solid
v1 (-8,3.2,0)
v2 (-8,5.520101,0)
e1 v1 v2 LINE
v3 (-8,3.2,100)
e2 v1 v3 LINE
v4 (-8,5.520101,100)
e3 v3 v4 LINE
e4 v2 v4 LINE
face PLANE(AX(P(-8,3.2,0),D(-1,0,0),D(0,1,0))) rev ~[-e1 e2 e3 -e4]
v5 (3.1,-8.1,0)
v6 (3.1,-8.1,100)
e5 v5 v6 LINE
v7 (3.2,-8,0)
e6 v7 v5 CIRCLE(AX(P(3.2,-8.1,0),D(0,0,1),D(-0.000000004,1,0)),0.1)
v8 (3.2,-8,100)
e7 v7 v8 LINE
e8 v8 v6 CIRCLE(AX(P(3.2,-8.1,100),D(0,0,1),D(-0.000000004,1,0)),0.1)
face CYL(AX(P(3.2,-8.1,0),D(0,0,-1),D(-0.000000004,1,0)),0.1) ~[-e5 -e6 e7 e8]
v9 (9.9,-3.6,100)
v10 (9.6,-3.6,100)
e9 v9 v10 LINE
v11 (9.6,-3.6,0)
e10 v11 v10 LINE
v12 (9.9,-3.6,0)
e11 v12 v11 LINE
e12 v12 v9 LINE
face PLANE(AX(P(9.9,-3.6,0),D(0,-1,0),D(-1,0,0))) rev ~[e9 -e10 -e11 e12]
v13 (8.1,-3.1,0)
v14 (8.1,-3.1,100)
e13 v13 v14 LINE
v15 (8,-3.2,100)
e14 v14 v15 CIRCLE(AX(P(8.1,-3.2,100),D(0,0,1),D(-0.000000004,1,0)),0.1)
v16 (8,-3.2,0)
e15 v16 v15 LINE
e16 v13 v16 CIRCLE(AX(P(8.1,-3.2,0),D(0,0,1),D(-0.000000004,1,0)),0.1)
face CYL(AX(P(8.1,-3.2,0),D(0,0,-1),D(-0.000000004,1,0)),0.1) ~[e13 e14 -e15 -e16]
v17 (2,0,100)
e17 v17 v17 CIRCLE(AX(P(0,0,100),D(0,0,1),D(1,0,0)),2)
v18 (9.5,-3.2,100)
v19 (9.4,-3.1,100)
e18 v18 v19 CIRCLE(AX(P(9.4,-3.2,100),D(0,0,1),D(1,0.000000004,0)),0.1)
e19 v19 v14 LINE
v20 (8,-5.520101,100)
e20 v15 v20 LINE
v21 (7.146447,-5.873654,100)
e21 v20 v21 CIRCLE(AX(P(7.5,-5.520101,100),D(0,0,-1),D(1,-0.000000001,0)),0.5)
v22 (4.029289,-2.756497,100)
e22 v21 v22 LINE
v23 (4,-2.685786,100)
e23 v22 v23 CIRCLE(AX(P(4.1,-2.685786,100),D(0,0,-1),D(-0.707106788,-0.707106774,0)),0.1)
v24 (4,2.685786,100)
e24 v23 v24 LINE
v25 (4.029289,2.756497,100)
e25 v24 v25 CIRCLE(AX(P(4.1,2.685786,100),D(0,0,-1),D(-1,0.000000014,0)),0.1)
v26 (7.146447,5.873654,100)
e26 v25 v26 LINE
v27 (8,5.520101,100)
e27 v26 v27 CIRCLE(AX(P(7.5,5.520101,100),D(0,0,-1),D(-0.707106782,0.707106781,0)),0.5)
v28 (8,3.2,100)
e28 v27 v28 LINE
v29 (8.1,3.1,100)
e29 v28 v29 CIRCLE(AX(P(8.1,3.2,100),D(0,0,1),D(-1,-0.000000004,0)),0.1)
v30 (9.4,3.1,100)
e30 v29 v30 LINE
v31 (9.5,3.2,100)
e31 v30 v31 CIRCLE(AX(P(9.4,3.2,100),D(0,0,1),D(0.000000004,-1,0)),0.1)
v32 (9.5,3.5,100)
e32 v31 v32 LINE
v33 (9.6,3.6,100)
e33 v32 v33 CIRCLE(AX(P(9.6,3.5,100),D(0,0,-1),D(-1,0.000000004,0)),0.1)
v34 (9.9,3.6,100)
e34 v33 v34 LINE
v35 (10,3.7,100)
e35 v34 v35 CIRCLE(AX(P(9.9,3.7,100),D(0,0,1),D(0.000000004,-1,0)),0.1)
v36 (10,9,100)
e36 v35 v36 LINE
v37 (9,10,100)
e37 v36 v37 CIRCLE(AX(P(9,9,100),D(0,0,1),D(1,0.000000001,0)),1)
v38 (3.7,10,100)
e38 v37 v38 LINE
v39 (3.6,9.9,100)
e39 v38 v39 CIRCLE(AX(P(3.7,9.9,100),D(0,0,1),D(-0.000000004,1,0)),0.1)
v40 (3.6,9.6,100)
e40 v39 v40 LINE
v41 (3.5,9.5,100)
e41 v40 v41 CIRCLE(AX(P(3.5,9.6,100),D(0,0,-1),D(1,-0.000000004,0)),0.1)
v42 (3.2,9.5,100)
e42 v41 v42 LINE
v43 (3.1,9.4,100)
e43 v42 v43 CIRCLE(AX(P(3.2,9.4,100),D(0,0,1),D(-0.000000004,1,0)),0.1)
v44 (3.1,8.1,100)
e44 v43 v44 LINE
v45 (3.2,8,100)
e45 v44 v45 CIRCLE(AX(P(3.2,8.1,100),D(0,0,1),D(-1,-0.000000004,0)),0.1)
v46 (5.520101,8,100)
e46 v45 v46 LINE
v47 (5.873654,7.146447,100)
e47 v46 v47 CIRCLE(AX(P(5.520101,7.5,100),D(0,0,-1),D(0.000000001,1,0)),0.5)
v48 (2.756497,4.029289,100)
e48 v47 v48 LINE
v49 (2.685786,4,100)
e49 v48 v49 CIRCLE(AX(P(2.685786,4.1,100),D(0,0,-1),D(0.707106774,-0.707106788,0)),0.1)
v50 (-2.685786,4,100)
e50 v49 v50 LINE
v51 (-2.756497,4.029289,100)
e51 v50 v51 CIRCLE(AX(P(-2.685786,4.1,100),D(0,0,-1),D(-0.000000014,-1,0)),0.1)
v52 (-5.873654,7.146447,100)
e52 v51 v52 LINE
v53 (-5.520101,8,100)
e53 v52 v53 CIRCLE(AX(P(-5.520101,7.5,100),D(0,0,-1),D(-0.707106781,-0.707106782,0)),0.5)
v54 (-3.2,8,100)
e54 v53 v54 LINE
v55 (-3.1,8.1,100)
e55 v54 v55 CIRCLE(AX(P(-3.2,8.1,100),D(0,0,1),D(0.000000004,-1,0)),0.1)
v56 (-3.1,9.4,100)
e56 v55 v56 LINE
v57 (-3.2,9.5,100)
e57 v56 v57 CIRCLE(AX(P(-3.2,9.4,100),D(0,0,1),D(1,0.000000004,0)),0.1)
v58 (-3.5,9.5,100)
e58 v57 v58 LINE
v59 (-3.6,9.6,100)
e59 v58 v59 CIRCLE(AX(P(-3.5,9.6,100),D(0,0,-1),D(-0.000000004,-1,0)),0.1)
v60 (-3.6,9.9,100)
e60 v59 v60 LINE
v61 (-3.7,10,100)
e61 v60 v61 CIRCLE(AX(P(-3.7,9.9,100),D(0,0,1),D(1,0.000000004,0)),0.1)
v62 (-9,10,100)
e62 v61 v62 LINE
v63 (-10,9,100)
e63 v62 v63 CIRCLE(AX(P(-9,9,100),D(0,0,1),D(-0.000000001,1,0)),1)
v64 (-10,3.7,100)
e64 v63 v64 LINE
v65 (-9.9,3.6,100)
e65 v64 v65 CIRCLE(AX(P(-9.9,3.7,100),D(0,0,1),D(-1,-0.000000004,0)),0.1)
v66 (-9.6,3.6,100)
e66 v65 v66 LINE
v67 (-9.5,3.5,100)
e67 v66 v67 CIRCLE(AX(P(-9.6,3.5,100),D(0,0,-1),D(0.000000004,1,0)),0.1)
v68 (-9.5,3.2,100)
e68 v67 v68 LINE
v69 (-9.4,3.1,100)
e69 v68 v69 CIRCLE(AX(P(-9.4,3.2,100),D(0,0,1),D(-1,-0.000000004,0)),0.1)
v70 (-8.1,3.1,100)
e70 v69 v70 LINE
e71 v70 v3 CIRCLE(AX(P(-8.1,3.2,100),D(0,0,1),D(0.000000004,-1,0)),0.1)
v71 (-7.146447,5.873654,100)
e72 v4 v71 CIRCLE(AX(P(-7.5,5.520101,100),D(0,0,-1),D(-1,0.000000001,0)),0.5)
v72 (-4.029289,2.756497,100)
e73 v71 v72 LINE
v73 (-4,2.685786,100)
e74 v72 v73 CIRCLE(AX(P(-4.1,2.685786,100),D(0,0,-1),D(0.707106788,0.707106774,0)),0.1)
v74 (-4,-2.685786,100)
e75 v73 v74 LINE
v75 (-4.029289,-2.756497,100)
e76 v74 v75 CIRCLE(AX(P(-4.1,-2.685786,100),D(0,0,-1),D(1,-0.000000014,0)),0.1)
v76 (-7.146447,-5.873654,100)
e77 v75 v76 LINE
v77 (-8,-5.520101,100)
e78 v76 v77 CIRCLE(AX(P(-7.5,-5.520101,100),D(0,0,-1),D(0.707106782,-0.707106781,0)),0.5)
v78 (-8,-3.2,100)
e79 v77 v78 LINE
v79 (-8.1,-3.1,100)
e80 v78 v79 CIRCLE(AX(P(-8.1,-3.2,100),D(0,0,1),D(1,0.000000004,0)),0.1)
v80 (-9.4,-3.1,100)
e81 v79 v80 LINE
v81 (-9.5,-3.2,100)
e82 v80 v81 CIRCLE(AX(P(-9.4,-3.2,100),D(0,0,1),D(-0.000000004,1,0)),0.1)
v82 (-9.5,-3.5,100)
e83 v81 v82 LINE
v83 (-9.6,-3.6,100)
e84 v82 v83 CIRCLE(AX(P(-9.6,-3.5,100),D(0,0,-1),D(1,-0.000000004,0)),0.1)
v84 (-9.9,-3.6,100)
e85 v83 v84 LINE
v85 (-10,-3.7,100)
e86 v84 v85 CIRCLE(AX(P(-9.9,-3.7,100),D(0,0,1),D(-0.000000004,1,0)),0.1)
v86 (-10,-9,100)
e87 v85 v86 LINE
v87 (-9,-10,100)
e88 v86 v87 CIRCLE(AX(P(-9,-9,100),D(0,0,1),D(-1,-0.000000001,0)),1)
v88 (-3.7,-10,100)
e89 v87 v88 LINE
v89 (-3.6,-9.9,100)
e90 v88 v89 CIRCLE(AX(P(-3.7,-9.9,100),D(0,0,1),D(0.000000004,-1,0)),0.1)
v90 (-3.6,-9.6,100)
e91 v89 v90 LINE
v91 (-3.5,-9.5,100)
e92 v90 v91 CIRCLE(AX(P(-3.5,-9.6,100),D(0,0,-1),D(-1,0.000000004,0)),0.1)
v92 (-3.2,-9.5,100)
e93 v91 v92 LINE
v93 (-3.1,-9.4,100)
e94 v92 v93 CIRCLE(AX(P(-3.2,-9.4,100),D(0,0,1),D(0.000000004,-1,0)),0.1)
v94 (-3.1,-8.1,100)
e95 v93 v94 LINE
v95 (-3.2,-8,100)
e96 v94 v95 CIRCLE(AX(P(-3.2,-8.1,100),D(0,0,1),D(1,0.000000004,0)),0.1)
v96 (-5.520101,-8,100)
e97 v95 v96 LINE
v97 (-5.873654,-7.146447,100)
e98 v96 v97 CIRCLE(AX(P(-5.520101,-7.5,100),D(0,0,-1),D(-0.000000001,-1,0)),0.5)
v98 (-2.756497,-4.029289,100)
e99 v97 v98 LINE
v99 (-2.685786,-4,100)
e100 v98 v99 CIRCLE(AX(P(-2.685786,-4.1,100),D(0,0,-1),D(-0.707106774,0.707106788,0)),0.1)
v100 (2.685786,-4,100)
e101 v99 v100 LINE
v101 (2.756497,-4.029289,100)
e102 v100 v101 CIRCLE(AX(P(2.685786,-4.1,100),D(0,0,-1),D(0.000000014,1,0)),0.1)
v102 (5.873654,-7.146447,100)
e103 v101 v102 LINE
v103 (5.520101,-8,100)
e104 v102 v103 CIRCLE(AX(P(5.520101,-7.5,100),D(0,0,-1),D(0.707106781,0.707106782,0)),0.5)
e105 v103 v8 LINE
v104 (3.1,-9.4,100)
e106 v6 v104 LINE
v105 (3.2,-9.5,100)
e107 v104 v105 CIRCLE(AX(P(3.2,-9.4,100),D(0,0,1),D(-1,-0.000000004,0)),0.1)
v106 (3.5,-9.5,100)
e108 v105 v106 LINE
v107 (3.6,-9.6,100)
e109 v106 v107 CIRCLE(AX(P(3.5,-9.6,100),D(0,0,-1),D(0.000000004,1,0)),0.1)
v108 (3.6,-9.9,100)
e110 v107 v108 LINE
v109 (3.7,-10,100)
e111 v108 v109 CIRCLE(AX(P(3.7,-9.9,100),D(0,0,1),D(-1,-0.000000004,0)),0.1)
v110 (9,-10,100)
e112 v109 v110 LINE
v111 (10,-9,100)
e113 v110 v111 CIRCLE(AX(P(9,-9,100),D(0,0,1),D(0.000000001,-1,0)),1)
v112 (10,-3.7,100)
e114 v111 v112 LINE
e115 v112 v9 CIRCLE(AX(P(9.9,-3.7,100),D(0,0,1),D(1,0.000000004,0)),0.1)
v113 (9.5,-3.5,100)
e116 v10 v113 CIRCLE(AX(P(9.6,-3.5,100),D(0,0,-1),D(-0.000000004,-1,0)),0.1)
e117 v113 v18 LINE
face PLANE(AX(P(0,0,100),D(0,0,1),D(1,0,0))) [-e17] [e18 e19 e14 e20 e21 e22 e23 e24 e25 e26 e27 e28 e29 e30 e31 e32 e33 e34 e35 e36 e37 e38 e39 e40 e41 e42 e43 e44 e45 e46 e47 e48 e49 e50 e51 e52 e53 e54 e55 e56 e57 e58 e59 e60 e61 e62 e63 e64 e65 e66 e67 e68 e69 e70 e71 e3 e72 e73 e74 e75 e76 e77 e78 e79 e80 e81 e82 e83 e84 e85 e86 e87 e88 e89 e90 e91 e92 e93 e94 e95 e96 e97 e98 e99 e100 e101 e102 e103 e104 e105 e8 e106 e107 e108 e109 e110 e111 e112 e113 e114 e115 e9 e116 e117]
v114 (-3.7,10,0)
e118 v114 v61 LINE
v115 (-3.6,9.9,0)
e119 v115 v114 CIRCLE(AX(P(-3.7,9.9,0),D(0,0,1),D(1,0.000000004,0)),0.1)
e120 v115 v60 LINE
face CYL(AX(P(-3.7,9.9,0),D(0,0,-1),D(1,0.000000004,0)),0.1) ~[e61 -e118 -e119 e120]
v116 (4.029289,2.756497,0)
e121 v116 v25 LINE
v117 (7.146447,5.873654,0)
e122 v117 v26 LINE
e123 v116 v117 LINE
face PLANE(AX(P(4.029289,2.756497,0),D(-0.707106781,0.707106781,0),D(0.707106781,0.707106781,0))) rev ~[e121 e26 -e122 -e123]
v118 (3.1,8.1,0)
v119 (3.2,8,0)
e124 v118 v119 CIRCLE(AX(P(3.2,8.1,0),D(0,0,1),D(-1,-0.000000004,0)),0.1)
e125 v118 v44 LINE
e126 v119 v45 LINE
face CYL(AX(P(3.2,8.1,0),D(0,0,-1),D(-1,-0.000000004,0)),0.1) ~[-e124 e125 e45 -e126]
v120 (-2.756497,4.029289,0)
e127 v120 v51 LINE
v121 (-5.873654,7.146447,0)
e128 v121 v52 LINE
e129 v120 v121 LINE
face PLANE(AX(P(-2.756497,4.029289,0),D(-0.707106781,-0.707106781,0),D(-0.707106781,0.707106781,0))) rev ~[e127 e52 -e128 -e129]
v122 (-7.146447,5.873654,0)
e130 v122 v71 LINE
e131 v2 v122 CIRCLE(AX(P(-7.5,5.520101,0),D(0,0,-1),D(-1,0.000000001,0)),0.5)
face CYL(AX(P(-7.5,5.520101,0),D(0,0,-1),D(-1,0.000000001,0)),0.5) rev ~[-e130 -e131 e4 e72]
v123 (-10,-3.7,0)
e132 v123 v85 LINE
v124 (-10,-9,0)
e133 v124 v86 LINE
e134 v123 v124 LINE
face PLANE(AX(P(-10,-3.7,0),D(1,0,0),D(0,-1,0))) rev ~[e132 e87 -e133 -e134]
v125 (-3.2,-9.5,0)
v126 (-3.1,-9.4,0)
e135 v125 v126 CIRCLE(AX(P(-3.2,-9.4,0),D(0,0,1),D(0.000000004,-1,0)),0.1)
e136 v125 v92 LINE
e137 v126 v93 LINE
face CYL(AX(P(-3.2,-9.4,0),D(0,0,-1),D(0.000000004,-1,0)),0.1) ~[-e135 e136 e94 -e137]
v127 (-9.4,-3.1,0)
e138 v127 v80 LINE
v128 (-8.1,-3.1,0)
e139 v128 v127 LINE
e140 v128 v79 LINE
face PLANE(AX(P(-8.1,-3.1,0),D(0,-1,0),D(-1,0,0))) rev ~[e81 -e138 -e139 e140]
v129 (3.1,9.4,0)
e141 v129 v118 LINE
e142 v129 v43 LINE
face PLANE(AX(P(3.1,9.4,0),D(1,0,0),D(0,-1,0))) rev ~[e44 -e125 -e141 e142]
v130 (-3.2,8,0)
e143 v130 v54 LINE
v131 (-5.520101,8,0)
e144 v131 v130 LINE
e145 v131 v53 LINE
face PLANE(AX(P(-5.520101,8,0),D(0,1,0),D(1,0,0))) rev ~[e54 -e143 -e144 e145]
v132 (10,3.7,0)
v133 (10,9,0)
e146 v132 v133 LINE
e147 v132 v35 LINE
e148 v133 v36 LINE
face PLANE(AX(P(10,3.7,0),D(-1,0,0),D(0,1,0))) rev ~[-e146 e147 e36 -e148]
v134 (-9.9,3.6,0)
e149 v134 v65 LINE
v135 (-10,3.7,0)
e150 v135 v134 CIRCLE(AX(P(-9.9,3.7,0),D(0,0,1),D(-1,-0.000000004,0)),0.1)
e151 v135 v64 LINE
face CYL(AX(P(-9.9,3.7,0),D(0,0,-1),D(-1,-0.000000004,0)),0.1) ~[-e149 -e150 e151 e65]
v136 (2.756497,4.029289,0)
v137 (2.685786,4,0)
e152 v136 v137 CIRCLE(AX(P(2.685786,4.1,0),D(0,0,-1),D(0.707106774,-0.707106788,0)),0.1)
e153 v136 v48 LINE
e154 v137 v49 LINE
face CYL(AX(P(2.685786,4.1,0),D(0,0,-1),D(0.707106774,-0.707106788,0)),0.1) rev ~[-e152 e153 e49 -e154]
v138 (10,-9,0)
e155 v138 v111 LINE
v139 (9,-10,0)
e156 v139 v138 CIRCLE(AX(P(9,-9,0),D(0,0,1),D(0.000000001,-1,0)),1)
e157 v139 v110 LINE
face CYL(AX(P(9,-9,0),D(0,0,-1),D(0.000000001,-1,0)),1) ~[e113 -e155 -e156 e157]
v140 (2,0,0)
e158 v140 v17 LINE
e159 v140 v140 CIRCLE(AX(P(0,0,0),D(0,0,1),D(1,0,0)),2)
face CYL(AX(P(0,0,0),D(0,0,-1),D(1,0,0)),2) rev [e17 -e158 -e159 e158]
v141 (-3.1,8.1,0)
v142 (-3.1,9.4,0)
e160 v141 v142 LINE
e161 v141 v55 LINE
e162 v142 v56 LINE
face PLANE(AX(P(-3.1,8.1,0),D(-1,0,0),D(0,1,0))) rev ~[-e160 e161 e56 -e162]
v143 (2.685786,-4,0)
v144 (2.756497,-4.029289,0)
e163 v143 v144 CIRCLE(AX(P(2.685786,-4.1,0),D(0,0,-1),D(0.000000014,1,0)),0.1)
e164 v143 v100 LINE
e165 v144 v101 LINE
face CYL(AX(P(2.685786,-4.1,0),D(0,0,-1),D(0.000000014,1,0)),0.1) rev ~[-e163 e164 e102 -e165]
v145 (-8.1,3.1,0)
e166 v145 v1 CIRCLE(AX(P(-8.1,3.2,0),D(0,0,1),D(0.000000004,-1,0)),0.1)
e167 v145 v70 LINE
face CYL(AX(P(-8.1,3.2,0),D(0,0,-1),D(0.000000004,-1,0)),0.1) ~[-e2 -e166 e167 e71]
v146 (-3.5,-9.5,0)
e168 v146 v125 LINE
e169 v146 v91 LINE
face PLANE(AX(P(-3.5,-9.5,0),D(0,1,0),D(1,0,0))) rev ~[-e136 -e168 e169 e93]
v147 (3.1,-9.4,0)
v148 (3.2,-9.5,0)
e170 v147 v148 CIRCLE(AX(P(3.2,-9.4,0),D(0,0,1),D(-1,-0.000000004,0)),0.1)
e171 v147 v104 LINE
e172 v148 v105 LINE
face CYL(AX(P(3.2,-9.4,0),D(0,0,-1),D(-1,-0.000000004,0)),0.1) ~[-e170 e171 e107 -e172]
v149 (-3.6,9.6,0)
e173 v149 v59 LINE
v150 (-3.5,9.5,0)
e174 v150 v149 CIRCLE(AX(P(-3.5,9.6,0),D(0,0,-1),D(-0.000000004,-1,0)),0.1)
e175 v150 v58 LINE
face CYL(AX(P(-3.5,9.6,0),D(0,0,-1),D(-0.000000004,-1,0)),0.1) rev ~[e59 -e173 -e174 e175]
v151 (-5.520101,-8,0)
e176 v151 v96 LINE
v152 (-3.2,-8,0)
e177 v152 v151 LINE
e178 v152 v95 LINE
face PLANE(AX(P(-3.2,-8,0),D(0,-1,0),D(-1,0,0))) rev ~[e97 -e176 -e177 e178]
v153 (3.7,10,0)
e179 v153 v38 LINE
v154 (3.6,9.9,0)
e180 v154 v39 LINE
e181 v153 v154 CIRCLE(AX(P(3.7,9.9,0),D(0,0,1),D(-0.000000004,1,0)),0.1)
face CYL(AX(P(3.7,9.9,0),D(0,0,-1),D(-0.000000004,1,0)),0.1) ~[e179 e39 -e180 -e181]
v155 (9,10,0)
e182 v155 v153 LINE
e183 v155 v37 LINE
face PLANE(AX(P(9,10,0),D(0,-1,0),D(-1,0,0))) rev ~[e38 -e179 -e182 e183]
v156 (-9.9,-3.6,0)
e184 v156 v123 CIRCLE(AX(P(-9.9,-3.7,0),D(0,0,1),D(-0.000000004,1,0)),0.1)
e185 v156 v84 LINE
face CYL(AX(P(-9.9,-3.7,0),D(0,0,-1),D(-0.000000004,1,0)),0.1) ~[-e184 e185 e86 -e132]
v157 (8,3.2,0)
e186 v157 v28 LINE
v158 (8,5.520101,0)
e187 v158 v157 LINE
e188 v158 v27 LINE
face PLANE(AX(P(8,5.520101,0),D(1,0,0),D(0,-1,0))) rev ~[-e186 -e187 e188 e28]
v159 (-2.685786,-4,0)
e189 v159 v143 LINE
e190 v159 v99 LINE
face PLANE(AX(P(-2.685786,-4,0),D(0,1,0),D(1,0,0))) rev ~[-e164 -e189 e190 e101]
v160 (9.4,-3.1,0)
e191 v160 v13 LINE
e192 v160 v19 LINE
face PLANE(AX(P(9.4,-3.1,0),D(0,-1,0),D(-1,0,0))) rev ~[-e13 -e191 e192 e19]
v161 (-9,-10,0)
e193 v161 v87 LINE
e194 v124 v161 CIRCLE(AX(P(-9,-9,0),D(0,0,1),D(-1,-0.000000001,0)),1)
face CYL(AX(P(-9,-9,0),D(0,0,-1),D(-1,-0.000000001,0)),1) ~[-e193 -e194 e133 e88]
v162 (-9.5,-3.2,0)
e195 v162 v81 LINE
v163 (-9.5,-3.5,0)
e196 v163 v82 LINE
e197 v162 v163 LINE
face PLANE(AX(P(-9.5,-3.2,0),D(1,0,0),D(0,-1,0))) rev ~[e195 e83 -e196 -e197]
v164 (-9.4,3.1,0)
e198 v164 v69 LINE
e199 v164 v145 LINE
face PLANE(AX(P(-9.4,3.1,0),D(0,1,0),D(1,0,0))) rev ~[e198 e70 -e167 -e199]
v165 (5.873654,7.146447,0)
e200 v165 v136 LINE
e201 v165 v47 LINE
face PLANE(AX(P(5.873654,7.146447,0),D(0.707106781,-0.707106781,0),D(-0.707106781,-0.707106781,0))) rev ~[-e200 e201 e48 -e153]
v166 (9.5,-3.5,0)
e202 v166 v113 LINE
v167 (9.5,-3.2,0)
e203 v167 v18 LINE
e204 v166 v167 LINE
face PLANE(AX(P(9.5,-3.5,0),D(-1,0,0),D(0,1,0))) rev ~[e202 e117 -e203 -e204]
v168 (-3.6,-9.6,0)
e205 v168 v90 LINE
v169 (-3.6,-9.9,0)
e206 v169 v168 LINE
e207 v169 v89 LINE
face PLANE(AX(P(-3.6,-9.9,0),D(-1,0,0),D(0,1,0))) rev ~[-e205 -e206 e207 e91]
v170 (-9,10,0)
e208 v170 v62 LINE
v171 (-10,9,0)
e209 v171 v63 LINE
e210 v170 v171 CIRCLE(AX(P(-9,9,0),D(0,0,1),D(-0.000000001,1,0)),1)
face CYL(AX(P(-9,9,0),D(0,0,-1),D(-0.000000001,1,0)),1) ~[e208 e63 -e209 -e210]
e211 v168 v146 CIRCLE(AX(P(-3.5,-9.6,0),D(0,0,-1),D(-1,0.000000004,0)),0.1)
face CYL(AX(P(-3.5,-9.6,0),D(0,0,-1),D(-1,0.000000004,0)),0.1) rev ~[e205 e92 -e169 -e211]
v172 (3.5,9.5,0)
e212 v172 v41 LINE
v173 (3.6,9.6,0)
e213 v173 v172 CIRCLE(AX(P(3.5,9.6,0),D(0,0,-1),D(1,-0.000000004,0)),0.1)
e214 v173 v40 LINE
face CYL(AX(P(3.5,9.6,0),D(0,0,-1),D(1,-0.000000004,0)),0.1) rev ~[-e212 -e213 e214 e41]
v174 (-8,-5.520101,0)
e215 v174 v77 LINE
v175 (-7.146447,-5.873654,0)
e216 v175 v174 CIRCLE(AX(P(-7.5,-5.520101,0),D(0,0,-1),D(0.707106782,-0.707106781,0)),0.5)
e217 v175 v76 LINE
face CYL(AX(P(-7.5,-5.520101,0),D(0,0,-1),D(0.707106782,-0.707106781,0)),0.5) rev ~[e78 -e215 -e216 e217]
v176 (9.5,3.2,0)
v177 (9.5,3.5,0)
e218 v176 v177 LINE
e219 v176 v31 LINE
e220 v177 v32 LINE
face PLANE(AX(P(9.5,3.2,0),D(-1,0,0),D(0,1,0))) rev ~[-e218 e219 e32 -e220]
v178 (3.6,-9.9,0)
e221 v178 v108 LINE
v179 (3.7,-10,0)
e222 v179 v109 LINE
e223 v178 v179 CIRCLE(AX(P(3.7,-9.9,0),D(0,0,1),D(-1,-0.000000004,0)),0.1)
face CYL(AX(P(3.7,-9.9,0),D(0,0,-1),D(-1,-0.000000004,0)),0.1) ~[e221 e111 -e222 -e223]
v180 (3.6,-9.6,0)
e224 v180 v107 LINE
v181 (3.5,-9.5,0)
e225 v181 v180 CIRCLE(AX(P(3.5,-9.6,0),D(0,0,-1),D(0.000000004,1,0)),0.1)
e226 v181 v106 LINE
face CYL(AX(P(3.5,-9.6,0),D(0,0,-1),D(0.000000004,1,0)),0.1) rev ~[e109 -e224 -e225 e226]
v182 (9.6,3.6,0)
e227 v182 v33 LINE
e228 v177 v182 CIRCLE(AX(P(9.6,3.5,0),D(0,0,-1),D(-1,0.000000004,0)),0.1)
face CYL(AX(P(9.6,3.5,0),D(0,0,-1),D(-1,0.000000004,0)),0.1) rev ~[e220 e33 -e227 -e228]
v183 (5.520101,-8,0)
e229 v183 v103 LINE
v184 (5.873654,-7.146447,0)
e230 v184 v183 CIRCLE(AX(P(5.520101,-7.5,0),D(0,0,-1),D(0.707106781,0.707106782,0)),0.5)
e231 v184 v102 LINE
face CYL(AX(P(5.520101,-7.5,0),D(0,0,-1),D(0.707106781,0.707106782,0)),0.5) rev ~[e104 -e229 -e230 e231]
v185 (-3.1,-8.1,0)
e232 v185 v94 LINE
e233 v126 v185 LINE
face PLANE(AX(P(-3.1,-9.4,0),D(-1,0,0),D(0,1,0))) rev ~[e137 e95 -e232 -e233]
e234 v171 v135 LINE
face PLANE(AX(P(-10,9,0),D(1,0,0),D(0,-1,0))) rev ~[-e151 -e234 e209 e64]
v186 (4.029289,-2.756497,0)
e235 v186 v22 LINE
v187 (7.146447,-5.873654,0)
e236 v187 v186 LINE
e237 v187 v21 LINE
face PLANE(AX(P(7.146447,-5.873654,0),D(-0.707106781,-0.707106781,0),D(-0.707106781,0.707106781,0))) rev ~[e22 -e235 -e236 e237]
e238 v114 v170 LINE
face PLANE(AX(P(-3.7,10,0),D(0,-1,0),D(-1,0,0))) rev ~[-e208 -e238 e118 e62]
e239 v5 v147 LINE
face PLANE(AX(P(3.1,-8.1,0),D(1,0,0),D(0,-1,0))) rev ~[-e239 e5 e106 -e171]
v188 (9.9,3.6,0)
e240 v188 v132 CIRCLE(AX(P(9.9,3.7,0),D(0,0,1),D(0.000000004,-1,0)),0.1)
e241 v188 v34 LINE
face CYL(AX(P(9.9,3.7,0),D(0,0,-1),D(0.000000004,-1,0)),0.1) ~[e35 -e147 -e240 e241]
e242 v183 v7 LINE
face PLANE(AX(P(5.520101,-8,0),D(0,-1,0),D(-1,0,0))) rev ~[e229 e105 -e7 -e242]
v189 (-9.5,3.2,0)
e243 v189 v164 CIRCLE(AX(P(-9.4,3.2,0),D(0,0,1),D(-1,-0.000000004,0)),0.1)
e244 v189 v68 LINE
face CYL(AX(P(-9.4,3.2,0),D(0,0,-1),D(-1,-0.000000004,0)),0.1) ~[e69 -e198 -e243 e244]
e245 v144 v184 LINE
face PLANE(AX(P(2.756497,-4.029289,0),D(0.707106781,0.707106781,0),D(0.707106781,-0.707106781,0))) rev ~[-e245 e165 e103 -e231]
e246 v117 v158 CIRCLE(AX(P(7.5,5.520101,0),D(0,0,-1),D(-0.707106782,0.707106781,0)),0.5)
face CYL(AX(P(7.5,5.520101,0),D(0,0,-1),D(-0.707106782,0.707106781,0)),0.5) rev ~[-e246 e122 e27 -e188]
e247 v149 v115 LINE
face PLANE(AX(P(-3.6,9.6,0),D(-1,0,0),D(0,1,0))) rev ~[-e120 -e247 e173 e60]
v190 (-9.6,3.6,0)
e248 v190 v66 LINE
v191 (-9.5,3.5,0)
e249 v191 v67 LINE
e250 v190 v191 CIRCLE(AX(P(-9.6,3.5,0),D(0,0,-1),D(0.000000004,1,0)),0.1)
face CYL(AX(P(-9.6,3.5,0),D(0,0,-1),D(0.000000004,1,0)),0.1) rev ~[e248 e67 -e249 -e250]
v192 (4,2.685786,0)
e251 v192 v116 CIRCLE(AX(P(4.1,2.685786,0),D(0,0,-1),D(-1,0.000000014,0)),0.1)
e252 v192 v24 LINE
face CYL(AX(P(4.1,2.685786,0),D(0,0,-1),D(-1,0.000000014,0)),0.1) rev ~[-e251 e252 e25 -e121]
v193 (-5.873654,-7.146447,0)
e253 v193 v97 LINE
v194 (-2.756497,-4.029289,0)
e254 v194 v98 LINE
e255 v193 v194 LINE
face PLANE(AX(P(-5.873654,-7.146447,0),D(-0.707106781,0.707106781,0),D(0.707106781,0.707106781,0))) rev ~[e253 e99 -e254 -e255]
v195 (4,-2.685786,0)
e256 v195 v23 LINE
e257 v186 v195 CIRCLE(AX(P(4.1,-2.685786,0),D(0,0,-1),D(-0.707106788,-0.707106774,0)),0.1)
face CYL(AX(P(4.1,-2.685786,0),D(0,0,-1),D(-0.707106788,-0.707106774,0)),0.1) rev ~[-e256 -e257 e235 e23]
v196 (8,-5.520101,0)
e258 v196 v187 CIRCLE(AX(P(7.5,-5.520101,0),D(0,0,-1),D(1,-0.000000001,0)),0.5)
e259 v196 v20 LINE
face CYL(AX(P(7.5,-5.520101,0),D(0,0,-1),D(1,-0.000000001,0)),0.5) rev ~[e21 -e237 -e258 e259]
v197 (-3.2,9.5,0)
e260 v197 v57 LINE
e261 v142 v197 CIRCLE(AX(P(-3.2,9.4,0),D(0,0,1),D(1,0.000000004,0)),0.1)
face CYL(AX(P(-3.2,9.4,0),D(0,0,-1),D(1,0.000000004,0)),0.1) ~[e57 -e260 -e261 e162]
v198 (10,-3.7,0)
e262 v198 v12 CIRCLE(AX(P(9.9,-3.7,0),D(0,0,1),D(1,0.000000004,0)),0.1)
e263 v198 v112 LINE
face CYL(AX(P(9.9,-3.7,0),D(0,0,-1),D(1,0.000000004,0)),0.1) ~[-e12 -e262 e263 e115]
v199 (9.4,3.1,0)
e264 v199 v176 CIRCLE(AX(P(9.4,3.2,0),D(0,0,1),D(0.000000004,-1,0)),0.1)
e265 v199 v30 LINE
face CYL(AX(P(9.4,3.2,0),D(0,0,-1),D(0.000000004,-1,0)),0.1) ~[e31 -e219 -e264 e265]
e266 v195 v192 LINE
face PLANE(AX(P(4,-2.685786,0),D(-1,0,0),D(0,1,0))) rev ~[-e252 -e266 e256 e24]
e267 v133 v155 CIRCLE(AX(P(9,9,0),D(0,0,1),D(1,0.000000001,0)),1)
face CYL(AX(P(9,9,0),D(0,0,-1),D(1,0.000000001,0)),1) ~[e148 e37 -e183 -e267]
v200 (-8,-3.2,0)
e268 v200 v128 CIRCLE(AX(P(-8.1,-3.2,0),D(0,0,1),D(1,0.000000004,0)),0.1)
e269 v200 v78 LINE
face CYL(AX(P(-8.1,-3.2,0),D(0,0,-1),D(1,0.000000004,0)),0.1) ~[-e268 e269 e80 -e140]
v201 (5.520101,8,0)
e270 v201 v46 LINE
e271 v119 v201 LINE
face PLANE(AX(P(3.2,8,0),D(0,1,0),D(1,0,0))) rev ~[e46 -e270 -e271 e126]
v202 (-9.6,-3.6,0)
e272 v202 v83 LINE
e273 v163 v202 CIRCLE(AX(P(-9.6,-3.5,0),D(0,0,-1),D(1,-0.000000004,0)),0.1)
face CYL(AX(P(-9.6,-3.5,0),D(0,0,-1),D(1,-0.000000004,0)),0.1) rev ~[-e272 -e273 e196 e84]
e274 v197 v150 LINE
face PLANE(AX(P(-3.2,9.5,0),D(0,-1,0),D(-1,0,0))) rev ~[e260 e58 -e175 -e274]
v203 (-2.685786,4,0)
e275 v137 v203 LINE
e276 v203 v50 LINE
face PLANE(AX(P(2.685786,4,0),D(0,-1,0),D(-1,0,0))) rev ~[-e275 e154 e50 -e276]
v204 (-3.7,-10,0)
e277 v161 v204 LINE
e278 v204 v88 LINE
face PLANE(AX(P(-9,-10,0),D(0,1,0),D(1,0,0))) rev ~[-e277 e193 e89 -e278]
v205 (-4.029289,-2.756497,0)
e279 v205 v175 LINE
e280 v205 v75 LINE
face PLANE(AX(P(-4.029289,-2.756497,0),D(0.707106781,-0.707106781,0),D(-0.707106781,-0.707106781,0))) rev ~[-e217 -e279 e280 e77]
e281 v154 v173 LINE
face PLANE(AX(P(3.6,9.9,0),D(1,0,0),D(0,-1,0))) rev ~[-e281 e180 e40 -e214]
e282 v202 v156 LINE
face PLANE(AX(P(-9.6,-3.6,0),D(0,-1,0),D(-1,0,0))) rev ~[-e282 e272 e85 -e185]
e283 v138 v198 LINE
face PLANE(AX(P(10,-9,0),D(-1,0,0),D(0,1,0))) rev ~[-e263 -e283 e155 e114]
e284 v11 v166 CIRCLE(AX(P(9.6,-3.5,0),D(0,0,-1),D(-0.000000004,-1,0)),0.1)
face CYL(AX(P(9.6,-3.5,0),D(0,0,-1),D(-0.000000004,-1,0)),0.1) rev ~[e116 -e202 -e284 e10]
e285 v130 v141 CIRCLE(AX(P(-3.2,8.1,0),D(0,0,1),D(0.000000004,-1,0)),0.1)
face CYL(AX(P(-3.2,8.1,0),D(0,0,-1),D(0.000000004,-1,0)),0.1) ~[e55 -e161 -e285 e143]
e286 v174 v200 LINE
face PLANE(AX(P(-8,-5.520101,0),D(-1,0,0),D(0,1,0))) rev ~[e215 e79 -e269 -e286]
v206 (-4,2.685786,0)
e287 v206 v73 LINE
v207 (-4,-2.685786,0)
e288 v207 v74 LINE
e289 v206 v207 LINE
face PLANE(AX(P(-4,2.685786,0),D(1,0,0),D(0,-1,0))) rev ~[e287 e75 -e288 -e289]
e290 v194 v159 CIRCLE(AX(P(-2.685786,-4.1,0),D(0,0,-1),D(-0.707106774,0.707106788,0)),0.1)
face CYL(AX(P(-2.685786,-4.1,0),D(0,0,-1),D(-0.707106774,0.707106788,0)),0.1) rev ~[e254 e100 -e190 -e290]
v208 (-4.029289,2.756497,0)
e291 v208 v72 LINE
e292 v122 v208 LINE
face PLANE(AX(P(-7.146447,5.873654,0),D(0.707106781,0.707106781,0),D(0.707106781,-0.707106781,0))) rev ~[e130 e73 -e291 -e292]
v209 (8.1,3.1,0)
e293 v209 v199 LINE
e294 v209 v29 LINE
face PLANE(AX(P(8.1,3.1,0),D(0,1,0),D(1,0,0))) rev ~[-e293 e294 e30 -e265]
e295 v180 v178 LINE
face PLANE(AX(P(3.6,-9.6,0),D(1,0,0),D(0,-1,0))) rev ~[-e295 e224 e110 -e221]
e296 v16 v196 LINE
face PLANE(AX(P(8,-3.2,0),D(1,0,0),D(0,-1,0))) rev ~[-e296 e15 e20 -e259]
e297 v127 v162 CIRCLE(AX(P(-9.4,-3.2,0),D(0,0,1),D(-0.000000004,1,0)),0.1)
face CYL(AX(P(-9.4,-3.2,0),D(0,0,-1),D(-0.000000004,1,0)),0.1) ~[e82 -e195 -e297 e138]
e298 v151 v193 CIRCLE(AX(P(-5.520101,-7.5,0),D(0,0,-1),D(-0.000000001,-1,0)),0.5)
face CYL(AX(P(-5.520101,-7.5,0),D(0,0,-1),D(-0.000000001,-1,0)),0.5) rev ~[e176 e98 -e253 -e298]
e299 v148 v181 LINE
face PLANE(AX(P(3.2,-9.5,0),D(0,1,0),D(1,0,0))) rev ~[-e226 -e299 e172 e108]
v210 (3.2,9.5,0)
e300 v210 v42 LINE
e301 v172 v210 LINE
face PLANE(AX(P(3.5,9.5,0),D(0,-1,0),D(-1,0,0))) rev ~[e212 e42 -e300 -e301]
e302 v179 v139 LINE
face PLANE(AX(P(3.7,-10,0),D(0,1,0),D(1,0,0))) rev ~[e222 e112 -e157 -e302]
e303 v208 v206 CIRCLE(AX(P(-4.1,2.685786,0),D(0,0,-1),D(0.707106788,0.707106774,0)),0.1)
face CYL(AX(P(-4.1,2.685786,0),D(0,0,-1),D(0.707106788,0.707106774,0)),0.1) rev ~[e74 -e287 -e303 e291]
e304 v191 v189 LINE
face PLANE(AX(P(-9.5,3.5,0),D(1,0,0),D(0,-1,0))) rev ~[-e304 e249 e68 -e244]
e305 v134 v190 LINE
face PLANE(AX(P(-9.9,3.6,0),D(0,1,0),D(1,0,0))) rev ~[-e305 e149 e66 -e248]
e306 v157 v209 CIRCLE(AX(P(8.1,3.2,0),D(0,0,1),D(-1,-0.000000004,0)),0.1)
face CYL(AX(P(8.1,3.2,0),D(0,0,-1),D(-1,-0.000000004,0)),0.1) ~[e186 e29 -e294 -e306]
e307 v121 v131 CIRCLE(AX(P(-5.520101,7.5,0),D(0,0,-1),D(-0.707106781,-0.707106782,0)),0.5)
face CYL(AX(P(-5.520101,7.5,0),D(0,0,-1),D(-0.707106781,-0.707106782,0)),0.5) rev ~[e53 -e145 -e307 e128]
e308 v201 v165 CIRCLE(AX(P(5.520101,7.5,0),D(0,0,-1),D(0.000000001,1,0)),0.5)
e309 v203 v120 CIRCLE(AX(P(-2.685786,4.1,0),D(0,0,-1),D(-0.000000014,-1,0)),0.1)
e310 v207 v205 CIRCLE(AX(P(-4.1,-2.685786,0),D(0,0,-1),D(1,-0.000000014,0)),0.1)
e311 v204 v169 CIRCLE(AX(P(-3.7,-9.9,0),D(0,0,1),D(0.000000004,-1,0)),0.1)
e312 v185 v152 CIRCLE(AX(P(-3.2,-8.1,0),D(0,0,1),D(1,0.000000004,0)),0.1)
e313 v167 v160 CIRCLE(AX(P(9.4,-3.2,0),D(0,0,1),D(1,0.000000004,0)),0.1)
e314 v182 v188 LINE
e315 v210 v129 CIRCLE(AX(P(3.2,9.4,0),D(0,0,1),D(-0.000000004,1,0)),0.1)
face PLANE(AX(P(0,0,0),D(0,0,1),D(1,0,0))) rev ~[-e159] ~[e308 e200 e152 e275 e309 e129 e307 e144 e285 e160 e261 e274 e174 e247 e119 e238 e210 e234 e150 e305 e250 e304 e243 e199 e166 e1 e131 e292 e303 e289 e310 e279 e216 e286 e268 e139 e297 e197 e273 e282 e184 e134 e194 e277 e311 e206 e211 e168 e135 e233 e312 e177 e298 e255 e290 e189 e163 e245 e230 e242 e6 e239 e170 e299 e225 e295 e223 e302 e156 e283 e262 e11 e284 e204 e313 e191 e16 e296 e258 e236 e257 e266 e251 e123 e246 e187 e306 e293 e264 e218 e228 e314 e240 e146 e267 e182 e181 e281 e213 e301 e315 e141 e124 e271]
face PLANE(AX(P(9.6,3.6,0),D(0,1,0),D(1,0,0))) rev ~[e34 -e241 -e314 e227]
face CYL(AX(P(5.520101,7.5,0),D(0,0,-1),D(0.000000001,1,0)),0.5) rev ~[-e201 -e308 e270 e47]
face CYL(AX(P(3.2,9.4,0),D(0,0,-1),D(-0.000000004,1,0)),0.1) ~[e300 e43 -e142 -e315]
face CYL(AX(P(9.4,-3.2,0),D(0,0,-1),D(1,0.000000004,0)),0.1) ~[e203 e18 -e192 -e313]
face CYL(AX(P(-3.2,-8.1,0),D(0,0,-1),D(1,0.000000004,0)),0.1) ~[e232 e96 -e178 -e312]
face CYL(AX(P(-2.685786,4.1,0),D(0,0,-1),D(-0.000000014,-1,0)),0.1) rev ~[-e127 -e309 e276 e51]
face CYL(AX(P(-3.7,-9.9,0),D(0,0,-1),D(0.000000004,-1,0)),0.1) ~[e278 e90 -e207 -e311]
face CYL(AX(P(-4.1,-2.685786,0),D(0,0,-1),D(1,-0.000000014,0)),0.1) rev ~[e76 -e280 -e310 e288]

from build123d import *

# Parameters (mm, degrees)
SKETCH1_R           = 2
BOSS_EXTRUDE1_DEPTH = 100


with BuildPart() as part:
    # Sketch1 → Boss-Extrude1 (new body)
    with BuildSketch(Plane.XY):
        with BuildLine():
            Line((-10, 9), (-10, 3.7))
            ThreePointArc((-10, 3.7), (-9.970710678, 3.629289322), (-9.9, 3.6))
            Line((-9.9, 3.6), (-9.6, 3.6))
            ThreePointArc((-9.6, 3.6), (-9.529289322, 3.570710678), (-9.5, 3.5))
            Line((-9.5, 3.5), (-9.5, 3.2))
            ThreePointArc((-9.5, 3.2), (-9.470710678, 3.129289322), (-9.4, 3.1))
            Line((-9.4, 3.1), (-8.1, 3.1))
            ThreePointArc((-8.1, 3.1), (-8.029289322, 3.129289322), (-8, 3.2))
            Line((-8, 3.2), (-8, 5.520101013))
            ThreePointArc((-8, 5.520101013), (-7.691341716, 5.982040779), (-7.146446609, 5.873654403))
            Line((-7.146446609, 5.873654403), (-4.029289322, 2.756497116))
            ThreePointArc((-4.029289322, 2.756497116), (-4.007612047, 2.724054781), (-4, 2.685786438))
            Line((-4, 2.685786438), (-4, 0))
            Line((-4, 0), (-4, -2.685786438))
            ThreePointArc((-4, -2.685786438), (-4.007612047, -2.724054781), (-4.029289322, -2.756497116))
            Line((-4.029289322, -2.756497116), (-7.146446609, -5.873654403))
            ThreePointArc((-7.146446609, -5.873654403), (-7.691341716, -5.982040779), (-8, -5.520101013))
            Line((-8, -5.520101013), (-8, -3.2))
            ThreePointArc((-8, -3.2), (-8.029289322, -3.129289322), (-8.1, -3.1))
            Line((-8.1, -3.1), (-9.4, -3.1))
            ThreePointArc((-9.4, -3.1), (-9.470710678, -3.129289322), (-9.5, -3.2))
            Line((-9.5, -3.2), (-9.5, -3.5))
            ThreePointArc((-9.5, -3.5), (-9.529289322, -3.570710678), (-9.6, -3.6))
            Line((-9.6, -3.6), (-9.9, -3.6))
            ThreePointArc((-9.9, -3.6), (-9.970710678, -3.629289322), (-10, -3.7))
            Line((-10, -3.7), (-10, -9))
            ThreePointArc((-10, -9), (-9.707106781, -9.707106781), (-9, -10))
            Line((-9, -10), (-3.7, -10))
            ThreePointArc((-3.7, -10), (-3.629289322, -9.970710678), (-3.6, -9.9))
            Line((-3.6, -9.9), (-3.6, -9.6))
            ThreePointArc((-3.6, -9.6), (-3.570710678, -9.529289322), (-3.5, -9.5))
            Line((-3.5, -9.5), (-3.2, -9.5))
            ThreePointArc((-3.2, -9.5), (-3.129289322, -9.470710678), (-3.1, -9.4))
            Line((-3.1, -9.4), (-3.1, -8.1))
            ThreePointArc((-3.1, -8.1), (-3.129289322, -8.029289322), (-3.2, -8))
            Line((-3.2, -8), (-5.520101013, -8))
            ThreePointArc((-5.520101013, -8), (-5.982040779, -7.691341716), (-5.873654403, -7.146446609))
            Line((-5.873654403, -7.146446609), (-2.756497116, -4.029289322))
            ThreePointArc((-2.756497116, -4.029289322), (-2.724054781, -4.007612047), (-2.685786438, -4))
            Line((-2.685786438, -4), (2.685786438, -4))
            ThreePointArc((2.685786438, -4), (2.724054781, -4.007612047), (2.756497116, -4.029289322))
            Line((2.756497116, -4.029289322), (5.873654403, -7.146446609))
            ThreePointArc((5.873654403, -7.146446609), (5.982040779, -7.691341716), (5.520101013, -8))
            Line((5.520101013, -8), (3.2, -8))
            ThreePointArc((3.2, -8), (3.129289322, -8.029289322), (3.1, -8.1))
            Line((3.1, -8.1), (3.1, -9.4))
            ThreePointArc((3.1, -9.4), (3.129289322, -9.470710678), (3.2, -9.5))
            Line((3.2, -9.5), (3.5, -9.5))
            ThreePointArc((3.5, -9.5), (3.570710678, -9.529289322), (3.6, -9.6))
            Line((3.6, -9.6), (3.6, -9.9))
            ThreePointArc((3.6, -9.9), (3.629289322, -9.970710678), (3.7, -10))
            Line((3.7, -10), (9, -10))
            ThreePointArc((9, -10), (9.707106781, -9.707106781), (10, -9))
            Line((10, -9), (10, -3.7))
            ThreePointArc((10, -3.7), (9.970710678, -3.629289322), (9.9, -3.6))
            Line((9.9, -3.6), (9.6, -3.6))
            ThreePointArc((9.6, -3.6), (9.529289322, -3.570710678), (9.5, -3.5))
            Line((9.5, -3.5), (9.5, -3.2))
            ThreePointArc((9.5, -3.2), (9.470710678, -3.129289322), (9.4, -3.1))
            Line((9.4, -3.1), (8.1, -3.1))
            ThreePointArc((8.1, -3.1), (8.029289322, -3.129289322), (8, -3.2))
            Line((8, -3.2), (8, -5.520101013))
            ThreePointArc((8, -5.520101013), (7.691341716, -5.982040779), (7.146446609, -5.873654403))
            Line((7.146446609, -5.873654403), (4.029289322, -2.756497116))
            ThreePointArc((4.029289322, -2.756497116), (4.007612047, -2.724054781), (4, -2.685786438))
            Line((4, -2.685786438), (4, 0))
            Line((4, 0), (4, 2.685786438))
            ThreePointArc((4, 2.685786438), (4.007612047, 2.724054781), (4.029289322, 2.756497116))
            Line((4.029289322, 2.756497116), (7.146446609, 5.873654403))
            ThreePointArc((7.146446609, 5.873654403), (7.691341716, 5.982040779), (8, 5.520101013))
            Line((8, 5.520101013), (8, 3.2))
            ThreePointArc((8, 3.2), (8.029289322, 3.129289322), (8.1, 3.1))
            Line((8.1, 3.1), (9.4, 3.1))
            ThreePointArc((9.4, 3.1), (9.470710678, 3.129289322), (9.5, 3.2))
            Line((9.5, 3.2), (9.5, 3.5))
            ThreePointArc((9.5, 3.5), (9.529289322, 3.570710678), (9.6, 3.6))
            Line((9.6, 3.6), (9.9, 3.6))
            ThreePointArc((9.9, 3.6), (9.970710678, 3.629289322), (10, 3.7))
            Line((10, 3.7), (10, 9))
            ThreePointArc((10, 9), (9.707106781, 9.707106781), (9, 10))
            Line((9, 10), (3.7, 10))
            ThreePointArc((3.7, 10), (3.629289322, 9.970710678), (3.6, 9.9))
            Line((3.6, 9.9), (3.6, 9.6))
            ThreePointArc((3.6, 9.6), (3.570710678, 9.529289322), (3.5, 9.5))
            Line((3.5, 9.5), (3.2, 9.5))
            ThreePointArc((3.2, 9.5), (3.129289322, 9.470710678), (3.1, 9.4))
            Line((3.1, 9.4), (3.1, 8.1))
            ThreePointArc((3.1, 8.1), (3.129289322, 8.029289322), (3.2, 8))
            Line((3.2, 8), (5.520101013, 8))
            ThreePointArc((5.520101013, 8), (5.982040779, 7.691341716), (5.873654403, 7.146446609))
            Line((5.873654403, 7.146446609), (2.756497116, 4.029289322))
            ThreePointArc((2.756497116, 4.029289322), (2.724054781, 4.007612047), (2.685786438, 4))
            Line((2.685786438, 4), (-2.685786438, 4))
            ThreePointArc((-2.685786438, 4), (-2.724054781, 4.007612047), (-2.756497116, 4.029289322))
            Line((-2.756497116, 4.029289322), (-5.873654403, 7.146446609))
            ThreePointArc((-5.873654403, 7.146446609), (-5.982040779, 7.691341716), (-5.520101013, 8))
            Line((-5.520101013, 8), (-3.2, 8))
            ThreePointArc((-3.2, 8), (-3.129289322, 8.029289322), (-3.1, 8.1))
            Line((-3.1, 8.1), (-3.1, 9.4))
            ThreePointArc((-3.1, 9.4), (-3.129289322, 9.470710678), (-3.2, 9.5))
            Line((-3.2, 9.5), (-3.5, 9.5))
            ThreePointArc((-3.5, 9.5), (-3.570710678, 9.529289322), (-3.6, 9.6))
            Line((-3.6, 9.6), (-3.6, 9.9))
            ThreePointArc((-3.6, 9.9), (-3.629289322, 9.970710678), (-3.7, 10))
            Line((-3.7, 10), (-9, 10))
            ThreePointArc((-9, 10), (-9.707106781, 9.707106781), (-10, 9))
        make_face()
        Circle(SKETCH1_R, mode=Mode.SUBTRACT)
    extrude(amount=BOSS_EXTRUDE1_DEPTH)


solid = part.part
